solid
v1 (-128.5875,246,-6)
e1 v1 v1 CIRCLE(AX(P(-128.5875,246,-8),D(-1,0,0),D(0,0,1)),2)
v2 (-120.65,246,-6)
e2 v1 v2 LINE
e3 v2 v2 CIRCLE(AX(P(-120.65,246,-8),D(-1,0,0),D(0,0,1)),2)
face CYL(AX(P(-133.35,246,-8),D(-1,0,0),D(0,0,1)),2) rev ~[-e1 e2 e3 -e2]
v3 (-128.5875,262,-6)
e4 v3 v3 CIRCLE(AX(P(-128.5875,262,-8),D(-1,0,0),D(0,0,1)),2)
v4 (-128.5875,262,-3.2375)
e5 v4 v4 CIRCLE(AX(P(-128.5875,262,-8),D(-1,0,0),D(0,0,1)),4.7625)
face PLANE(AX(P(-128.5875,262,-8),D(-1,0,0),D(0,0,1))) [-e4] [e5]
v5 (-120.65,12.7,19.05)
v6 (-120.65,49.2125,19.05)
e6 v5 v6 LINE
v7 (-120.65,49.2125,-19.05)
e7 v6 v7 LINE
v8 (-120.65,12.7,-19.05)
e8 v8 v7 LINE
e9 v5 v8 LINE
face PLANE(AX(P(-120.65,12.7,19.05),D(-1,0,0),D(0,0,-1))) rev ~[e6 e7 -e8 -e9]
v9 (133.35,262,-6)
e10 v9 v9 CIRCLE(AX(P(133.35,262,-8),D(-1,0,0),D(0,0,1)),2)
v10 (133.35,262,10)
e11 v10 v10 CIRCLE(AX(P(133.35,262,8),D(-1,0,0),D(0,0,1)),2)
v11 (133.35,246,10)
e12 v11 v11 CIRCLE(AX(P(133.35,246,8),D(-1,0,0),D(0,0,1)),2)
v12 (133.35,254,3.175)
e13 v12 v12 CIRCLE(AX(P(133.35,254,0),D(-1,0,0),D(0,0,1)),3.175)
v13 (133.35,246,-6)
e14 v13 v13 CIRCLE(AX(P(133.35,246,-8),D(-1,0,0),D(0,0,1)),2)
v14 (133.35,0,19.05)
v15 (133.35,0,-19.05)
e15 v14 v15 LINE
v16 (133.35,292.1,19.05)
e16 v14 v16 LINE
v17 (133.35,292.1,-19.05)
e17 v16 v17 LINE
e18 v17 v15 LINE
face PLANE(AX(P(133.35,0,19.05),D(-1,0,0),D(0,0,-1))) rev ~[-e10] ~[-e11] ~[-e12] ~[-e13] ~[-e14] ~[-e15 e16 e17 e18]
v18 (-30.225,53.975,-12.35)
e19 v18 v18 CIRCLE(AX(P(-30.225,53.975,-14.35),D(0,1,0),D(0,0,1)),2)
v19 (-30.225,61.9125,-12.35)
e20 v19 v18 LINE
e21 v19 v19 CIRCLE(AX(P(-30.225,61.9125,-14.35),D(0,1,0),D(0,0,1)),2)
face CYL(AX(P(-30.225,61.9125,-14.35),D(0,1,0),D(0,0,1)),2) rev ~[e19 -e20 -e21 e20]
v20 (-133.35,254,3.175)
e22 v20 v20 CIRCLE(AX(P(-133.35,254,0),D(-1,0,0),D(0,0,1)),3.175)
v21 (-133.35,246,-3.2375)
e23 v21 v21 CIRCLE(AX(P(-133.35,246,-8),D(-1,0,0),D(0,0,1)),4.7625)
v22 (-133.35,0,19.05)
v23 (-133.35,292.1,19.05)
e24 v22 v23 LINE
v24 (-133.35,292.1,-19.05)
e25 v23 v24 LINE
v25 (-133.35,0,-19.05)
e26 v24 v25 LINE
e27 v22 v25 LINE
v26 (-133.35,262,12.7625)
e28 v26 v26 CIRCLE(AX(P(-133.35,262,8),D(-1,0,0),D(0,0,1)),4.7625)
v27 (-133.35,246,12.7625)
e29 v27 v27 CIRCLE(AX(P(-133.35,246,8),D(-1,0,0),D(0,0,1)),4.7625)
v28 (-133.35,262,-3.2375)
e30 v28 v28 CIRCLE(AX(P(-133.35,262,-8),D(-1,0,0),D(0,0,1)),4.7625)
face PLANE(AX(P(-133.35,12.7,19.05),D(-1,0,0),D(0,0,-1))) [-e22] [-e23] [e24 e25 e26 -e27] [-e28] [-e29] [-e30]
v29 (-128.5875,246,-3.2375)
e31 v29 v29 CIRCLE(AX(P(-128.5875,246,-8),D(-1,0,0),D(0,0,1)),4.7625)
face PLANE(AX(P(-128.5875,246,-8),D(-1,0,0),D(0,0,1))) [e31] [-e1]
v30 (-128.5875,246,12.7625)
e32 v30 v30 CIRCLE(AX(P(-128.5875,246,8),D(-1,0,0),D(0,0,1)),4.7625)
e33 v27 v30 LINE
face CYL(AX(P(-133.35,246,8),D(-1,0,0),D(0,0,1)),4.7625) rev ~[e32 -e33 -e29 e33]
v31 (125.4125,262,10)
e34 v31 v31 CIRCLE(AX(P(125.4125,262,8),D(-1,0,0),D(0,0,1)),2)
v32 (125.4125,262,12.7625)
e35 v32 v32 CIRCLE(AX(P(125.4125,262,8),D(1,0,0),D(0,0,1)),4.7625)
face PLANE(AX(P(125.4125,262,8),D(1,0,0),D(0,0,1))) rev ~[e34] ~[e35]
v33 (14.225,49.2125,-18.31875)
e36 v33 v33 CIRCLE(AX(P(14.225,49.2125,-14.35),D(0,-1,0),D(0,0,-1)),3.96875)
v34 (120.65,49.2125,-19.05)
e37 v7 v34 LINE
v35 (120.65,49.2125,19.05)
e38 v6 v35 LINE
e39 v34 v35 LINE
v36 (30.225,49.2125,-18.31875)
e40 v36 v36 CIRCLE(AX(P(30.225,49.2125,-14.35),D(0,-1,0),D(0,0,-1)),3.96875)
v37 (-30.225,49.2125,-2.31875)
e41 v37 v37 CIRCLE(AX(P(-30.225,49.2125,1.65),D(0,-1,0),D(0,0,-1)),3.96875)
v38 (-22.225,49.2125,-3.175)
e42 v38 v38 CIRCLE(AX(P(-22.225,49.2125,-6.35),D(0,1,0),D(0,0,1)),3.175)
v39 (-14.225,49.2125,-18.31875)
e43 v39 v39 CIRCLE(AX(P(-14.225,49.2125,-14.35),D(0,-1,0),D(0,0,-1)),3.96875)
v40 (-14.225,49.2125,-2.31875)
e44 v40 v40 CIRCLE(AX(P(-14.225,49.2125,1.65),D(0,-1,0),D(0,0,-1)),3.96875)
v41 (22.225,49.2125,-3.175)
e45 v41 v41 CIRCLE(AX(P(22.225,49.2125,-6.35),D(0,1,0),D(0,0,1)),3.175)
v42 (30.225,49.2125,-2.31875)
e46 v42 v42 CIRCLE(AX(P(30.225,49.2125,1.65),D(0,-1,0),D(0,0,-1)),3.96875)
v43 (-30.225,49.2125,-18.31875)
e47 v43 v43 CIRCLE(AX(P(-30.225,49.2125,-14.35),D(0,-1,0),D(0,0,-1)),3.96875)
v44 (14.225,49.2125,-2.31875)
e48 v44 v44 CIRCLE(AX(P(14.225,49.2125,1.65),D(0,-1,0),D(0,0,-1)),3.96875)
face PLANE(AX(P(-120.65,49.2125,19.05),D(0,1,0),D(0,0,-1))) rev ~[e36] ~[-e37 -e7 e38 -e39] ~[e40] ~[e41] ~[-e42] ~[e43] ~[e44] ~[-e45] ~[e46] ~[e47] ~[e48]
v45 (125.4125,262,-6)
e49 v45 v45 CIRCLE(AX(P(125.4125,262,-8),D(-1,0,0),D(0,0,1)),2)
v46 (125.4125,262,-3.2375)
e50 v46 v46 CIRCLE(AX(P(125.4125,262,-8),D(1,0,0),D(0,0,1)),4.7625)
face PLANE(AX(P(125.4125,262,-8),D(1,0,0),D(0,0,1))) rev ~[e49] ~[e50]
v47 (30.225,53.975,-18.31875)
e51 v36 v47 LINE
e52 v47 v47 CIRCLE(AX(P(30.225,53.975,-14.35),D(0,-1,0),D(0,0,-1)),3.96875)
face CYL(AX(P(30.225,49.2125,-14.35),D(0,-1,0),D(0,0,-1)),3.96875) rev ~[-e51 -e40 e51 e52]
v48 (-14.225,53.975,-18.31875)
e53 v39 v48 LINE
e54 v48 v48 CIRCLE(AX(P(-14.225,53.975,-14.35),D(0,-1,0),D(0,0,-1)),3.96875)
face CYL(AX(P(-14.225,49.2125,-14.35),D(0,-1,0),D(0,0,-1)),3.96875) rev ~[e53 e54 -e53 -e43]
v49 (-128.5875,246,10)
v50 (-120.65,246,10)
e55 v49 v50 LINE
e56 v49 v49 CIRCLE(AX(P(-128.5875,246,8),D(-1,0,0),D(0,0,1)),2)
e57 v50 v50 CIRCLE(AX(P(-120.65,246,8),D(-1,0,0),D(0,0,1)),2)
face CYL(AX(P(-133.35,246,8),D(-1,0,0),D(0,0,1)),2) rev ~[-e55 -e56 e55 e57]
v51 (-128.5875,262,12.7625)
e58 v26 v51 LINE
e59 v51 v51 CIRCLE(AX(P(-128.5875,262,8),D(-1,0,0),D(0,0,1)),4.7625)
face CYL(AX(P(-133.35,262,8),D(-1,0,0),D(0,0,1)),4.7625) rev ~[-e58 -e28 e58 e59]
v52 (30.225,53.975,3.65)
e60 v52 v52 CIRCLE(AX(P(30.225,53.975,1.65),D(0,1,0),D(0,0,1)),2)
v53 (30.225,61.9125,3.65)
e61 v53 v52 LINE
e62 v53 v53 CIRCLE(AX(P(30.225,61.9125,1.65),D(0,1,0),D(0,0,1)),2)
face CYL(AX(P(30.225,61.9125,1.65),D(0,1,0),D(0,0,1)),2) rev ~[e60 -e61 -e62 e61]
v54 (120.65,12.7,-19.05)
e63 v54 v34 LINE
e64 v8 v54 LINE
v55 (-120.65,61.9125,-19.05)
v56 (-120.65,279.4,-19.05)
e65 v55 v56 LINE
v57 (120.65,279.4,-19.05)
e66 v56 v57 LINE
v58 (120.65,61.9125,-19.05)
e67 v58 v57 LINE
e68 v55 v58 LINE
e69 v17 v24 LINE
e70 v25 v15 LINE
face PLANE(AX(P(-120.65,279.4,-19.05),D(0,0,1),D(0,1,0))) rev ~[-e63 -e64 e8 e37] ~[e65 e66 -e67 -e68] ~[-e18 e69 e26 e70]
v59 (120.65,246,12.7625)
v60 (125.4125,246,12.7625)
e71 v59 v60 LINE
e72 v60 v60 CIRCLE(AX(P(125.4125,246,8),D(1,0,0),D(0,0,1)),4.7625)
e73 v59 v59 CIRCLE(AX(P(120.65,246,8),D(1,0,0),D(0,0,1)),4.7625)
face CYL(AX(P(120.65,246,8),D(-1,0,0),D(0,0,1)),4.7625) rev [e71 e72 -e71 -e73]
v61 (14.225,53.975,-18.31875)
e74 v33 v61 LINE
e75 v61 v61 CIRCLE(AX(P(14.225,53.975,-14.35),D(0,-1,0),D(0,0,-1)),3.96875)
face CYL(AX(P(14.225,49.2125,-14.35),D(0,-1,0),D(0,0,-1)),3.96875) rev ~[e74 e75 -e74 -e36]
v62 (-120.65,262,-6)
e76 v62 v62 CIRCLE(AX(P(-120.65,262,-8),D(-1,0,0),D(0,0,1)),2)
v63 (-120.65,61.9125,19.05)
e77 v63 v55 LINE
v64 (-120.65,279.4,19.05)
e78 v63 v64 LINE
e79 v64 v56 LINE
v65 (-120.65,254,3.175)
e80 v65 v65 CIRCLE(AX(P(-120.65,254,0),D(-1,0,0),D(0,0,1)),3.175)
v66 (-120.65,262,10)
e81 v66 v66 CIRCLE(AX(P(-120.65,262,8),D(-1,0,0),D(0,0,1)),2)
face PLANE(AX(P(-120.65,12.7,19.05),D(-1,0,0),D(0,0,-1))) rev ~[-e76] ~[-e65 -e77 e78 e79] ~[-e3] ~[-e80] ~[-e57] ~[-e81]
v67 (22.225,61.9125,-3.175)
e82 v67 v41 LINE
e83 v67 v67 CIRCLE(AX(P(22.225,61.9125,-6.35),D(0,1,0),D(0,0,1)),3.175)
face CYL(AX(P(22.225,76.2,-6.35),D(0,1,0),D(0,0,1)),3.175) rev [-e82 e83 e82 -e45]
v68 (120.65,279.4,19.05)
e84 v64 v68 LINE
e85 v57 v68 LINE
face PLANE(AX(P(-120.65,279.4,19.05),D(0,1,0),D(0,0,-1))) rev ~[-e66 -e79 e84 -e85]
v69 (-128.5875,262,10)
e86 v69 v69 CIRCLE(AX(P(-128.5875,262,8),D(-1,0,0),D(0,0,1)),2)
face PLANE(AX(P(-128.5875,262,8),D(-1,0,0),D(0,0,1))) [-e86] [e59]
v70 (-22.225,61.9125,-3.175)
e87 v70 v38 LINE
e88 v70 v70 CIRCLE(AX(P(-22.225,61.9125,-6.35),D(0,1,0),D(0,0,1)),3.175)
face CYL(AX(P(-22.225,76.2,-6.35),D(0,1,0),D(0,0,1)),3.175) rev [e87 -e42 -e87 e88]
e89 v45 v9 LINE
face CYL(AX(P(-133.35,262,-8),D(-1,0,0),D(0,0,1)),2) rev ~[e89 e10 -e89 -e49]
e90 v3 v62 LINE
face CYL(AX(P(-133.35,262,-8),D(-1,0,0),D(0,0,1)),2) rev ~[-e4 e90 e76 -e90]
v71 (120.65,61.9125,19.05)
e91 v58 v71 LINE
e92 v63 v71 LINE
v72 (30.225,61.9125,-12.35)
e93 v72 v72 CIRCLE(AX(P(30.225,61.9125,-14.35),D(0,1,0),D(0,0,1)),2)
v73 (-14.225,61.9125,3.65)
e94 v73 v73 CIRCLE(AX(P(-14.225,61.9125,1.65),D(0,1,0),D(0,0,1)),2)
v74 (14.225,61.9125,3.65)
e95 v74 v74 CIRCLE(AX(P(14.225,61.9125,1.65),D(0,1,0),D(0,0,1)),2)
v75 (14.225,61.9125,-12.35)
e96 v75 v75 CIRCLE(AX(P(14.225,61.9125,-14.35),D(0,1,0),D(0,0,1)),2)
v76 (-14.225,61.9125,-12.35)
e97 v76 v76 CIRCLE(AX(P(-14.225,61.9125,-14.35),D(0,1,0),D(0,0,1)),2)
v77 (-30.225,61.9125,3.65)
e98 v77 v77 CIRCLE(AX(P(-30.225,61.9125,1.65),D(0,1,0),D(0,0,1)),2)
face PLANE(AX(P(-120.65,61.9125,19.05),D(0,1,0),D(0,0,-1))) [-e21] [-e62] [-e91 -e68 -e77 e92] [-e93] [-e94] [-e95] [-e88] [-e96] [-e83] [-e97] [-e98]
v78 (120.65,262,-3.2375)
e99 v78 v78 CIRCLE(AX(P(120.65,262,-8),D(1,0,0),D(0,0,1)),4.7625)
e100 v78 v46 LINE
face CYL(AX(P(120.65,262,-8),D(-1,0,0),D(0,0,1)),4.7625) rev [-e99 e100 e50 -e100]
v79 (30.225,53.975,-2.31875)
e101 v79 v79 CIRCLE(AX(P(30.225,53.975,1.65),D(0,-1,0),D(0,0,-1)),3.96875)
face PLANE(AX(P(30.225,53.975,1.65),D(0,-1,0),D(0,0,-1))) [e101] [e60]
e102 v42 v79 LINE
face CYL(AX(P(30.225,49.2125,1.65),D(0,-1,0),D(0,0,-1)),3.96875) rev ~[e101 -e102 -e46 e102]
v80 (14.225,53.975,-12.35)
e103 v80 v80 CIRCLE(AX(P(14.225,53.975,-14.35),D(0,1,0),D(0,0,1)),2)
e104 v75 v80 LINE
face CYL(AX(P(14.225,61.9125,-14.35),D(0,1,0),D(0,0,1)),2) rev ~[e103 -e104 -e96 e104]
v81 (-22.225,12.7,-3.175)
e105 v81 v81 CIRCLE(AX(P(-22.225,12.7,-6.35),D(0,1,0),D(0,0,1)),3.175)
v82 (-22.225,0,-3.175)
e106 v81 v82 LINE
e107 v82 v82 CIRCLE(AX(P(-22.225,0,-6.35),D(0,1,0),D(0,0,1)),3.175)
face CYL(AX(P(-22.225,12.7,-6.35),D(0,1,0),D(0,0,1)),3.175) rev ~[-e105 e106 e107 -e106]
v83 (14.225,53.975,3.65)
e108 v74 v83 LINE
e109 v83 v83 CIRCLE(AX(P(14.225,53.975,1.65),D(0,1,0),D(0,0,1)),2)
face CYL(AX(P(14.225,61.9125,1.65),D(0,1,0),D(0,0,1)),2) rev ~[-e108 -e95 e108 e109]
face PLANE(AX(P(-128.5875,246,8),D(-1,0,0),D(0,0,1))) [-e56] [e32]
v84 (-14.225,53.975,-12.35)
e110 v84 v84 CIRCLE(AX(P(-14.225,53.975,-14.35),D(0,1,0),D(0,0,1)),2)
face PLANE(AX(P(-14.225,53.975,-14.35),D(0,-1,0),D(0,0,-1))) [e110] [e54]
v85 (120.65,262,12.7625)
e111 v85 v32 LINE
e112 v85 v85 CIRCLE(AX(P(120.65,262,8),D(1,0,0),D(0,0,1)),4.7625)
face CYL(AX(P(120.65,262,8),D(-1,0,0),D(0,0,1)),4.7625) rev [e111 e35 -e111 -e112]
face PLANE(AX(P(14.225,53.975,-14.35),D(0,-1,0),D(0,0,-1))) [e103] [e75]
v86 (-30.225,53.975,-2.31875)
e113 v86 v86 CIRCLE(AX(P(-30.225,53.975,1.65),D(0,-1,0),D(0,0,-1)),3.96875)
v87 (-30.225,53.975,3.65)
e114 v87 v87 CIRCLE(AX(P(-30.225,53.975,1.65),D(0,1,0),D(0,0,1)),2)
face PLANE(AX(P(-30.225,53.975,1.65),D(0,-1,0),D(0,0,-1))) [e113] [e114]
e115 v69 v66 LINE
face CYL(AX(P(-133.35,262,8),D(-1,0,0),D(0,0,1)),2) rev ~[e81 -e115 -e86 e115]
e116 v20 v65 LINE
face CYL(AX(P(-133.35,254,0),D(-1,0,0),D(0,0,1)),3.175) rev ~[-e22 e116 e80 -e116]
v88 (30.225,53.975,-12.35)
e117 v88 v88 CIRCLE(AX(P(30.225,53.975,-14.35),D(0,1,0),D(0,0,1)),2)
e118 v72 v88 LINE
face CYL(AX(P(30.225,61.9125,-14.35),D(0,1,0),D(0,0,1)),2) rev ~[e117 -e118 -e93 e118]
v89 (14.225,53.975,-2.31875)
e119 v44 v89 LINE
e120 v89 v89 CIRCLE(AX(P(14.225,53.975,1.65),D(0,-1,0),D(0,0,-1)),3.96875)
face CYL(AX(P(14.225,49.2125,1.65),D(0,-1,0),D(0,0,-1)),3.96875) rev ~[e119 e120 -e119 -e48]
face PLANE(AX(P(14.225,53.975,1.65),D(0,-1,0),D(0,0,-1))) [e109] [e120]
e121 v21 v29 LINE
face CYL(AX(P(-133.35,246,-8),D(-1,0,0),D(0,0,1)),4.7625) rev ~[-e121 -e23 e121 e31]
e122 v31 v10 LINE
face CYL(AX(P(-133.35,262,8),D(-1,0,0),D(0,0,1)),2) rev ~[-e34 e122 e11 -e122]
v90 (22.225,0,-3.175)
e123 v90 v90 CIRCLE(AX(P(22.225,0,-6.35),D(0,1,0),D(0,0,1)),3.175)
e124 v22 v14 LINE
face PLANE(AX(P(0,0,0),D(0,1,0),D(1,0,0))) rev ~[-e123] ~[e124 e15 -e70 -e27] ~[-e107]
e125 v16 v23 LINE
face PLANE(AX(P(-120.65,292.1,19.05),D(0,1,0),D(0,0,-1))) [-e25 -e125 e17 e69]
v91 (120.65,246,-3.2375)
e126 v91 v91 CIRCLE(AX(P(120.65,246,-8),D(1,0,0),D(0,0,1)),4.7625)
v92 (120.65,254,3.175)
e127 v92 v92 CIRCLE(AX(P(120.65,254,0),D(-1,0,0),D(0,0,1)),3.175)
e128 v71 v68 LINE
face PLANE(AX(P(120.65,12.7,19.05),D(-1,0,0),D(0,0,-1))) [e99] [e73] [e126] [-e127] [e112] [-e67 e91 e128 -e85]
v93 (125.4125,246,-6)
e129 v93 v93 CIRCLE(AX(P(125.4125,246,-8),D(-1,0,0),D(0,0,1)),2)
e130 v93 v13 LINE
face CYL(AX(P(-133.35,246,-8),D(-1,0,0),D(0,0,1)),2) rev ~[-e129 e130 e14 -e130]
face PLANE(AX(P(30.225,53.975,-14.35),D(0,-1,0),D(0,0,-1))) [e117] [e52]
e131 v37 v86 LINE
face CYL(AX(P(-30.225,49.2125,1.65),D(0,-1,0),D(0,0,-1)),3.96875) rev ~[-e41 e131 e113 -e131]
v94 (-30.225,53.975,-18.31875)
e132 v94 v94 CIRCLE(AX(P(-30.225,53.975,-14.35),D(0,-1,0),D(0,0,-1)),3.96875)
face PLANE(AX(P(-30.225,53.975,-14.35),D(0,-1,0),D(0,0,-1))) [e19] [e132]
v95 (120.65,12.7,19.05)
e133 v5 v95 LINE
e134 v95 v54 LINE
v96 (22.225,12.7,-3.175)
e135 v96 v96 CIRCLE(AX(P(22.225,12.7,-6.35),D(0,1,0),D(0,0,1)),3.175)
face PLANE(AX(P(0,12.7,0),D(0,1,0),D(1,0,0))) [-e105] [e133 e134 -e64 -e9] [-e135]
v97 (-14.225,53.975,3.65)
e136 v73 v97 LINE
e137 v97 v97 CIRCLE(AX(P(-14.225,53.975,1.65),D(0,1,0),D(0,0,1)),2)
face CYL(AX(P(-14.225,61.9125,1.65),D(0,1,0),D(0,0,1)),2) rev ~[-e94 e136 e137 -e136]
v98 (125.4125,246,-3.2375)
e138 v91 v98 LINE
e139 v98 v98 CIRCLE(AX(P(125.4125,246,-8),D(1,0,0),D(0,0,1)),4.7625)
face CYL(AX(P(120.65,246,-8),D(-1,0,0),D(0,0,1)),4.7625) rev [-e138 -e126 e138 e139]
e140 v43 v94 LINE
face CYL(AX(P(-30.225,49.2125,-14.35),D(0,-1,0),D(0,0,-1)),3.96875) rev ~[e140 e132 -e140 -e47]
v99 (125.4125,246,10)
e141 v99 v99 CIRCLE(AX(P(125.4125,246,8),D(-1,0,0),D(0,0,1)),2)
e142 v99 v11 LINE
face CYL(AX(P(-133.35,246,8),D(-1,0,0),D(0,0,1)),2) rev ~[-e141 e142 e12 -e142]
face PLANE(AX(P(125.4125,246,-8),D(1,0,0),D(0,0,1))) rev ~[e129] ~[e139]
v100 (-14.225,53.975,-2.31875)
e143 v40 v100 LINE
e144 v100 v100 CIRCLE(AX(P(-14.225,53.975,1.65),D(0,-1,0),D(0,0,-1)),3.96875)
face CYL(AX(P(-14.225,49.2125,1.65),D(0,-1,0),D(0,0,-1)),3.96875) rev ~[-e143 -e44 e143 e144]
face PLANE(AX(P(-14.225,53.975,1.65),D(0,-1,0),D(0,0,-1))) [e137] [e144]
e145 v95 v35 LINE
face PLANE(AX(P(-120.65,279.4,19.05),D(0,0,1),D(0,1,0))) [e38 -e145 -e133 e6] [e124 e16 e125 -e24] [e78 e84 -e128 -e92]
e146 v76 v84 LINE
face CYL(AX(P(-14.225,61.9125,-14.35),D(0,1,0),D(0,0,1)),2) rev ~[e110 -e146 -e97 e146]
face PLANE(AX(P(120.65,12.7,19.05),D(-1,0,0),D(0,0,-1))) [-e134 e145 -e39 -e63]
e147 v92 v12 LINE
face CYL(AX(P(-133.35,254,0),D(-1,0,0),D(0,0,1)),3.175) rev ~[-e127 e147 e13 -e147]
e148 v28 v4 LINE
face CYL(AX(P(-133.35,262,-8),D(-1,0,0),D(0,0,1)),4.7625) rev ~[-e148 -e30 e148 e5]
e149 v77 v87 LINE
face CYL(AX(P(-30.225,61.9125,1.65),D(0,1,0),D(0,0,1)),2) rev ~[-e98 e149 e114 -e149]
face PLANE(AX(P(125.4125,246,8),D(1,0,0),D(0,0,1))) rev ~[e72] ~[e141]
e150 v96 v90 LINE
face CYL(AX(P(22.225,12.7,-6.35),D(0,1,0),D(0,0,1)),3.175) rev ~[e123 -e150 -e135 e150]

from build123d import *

# Parameters (mm, degrees)
ESQUISSE1_W             = 266.7
ESQUISSE1_H             = 38.1
BOSS_EXTRU_1_DEPTH      = 12.7
ESQUISSE2_W             = 12.7
ESQUISSE2_H             = 38.1
BOSS_EXTRU_2_DEPTH      = 279.4
ESQUISSE3_R             = 3.175
ENL_V_MAT_EXTRU_1_DEPTH = 311.176538442
ESQUISSE4_R             = 3.175
ENL_V_MAT_EXTRU_2_DEPTH = 311.176538442
BOSS_EXTRU_3_REACH      = 389.558
ESQUISSE5_W             = 38.1
ESQUISSE5_H             = 12.7
BOSS_EXTRU_4_REACH      = 389.558
ESQUISSE6_W             = 38.1
ESQUISSE6_H             = 12.7
ESQUISSE9_R             = 3.175
ENL_V_MAT_EXTRU_3_DEPTH = 396.997730423
ESQUISSE10_R            = 2
ENL_V_MAT_EXTRU_4_DEPTH = 396.997730423
ESQUISSE12_R            = 4.7625
ENL_V_MAT_EXTRU_5_DEPTH = 4.7625
ESQUISSE13_R            = 4.7625
ENL_V_MAT_EXTRU_6_DEPTH = 4.7625
ENL_V_START             = -76.2
ESQUISSE17_R            = 3.175
ENL_V_MAT_EXTRU_7_DEPTH = 76.2
ESQUISSE18_R            = 2
ENL_V_MAT_EXTRU_8_DEPTH = 25.4
ESQUISSE20_R            = 3.96875
ENL_V_MAT_EXTRU_9_DEPTH = 4.7625


with BuildPart() as part:
    # Esquisse1 → Boss.-Extru.1 (new body)
    with BuildSketch(Plane(origin=(0, 0, 0), x_dir=(1, 0, 0), z_dir=(0, 1, 0))):
        Rectangle(ESQUISSE1_W, ESQUISSE1_H)
    extrude(amount=BOSS_EXTRU_1_DEPTH)

    # Esquisse2 → Boss.-Extru.2 (add)
    with BuildSketch(Plane(origin=(0, 12.7, 0), x_dir=(1, 0, 0), z_dir=(0, 1, 0))):
        with Locations((-127, 0)):
            Rectangle(ESQUISSE2_W, ESQUISSE2_H)
        with Locations((127, 0)):
            Rectangle(ESQUISSE2_W, ESQUISSE2_H)
    extrude(amount=BOSS_EXTRU_2_DEPTH)

    # Esquisse3 → Enlèv. mat.-Extru.1 (cut, through all)
    with BuildSketch(Plane(origin=(0, 12.7, 0), x_dir=(1, 0, 0), z_dir=(0, 1, 0))):
        with Locations(Location((-22.225, 6.35, 0), (0, 0, 270))):
            Circle(ESQUISSE3_R)
    extrude(amount=-ENL_V_MAT_EXTRU_1_DEPTH, mode=Mode.SUBTRACT)

    # Esquisse4 → Enlèv. mat.-Extru.2 (cut, through all)
    with BuildSketch(Plane(origin=(0, 12.7, 0), x_dir=(1, 0, 0), z_dir=(0, 1, 0))):
        with Locations(Location((22.225, 6.35, 0), (0, 0, 270))):
            Circle(ESQUISSE4_R)
    extrude(amount=-ENL_V_MAT_EXTRU_2_DEPTH, mode=Mode.SUBTRACT)

    # Esquisse5 → Boss.-Extru.3 (add, up to next)
    with BuildSketch(Plane(origin=(-120.65, 0, 0), x_dir=(0, 0, -1), z_dir=(1, 0, 0)), mode=Mode.PRIVATE) as boss_extru_3_sk1:
        with Locations((0, 55.5625)):
            Rectangle(ESQUISSE5_W, ESQUISSE5_H)
    boss_extru_3_tool1 = extrude(boss_extru_3_sk1.sketch, amount=BOSS_EXTRU_3_REACH, mode=Mode.PRIVATE) - part.part
    add(boss_extru_3_tool1.solids().sort_by_distance((-120.65, 55.5625, 0))[0])

    # Esquisse6 → Boss.-Extru.4 (add, up to next)
    with BuildSketch(Plane(origin=(-120.65, 0, 0), x_dir=(0, 0, -1), z_dir=(1, 0, 0)), mode=Mode.PRIVATE) as boss_extru_4_sk1:
        with Locations((0, 285.75)):
            Rectangle(ESQUISSE6_W, ESQUISSE6_H)
    boss_extru_4_tool1 = extrude(boss_extru_4_sk1.sketch, amount=BOSS_EXTRU_4_REACH, mode=Mode.PRIVATE) - part.part
    add(boss_extru_4_tool1.solids().sort_by_distance((-120.65, 285.75, 0))[0])

    # Esquisse9 → Enlèv. mat.-Extru.3 (cut, through all)
    with BuildSketch(Plane.ZY.offset(133.35)):
        with Locations((0, 254)):
            Circle(ESQUISSE9_R)
    extrude(amount=-ENL_V_MAT_EXTRU_3_DEPTH, mode=Mode.SUBTRACT)

    # Esquisse10 → Enlèv. mat.-Extru.4 (cut, through all)
    with BuildSketch(Plane.ZY.offset(133.35)):
        with Locations((8, 262)):
            Circle(ESQUISSE10_R)
        with Locations((-8, 262)):
            Circle(ESQUISSE10_R)
        with Locations((-8, 246)):
            Circle(ESQUISSE10_R)
        with Locations((8, 246)):
            Circle(ESQUISSE10_R)
    extrude(amount=-ENL_V_MAT_EXTRU_4_DEPTH, mode=Mode.SUBTRACT)

    # Esquisse12 → Enlèv. mat.-Extru.5 (cut)
    with BuildSketch(Plane.ZY.offset(133.35)):
        with Locations((8, 262)):
            Circle(ESQUISSE12_R)
        with Locations((-8, 262)):
            Circle(ESQUISSE12_R)
        with Locations((-8, 246)):
            Circle(ESQUISSE12_R)
        with Locations((8, 246)):
            Circle(ESQUISSE12_R)
    extrude(amount=-ENL_V_MAT_EXTRU_5_DEPTH, mode=Mode.SUBTRACT)

    # Esquisse13 → Enlèv. mat.-Extru.6 (cut)
    with BuildSketch(Plane(origin=(120.65, 0, 0), x_dir=(0, 0, -1), z_dir=(1, 0, 0))):
        with Locations(Location((8, 262, 0), (0, 0, 180))):
            Circle(ESQUISSE13_R)
        with Locations(Location((8, 246, 0), (0, 0, 180))):
            Circle(ESQUISSE13_R)
        with Locations(Location((-8, 246, 0), (0, 0, 180))):
            Circle(ESQUISSE13_R)
        with Locations(Location((-8, 262, 0), (0, 0, 180))):
            Circle(ESQUISSE13_R)
    extrude(amount=ENL_V_MAT_EXTRU_6_DEPTH, mode=Mode.SUBTRACT)

    # Esquisse17 → Enlèv. mat.-Extru.7 (cut)
    with BuildSketch(Plane.XZ.offset(ENL_V_START)):
        with Locations(Location((22.225, -6.35, 0), (0, 0, 90))):
            Circle(ESQUISSE17_R)
        with Locations(Location((-22.225, -6.35, 0), (0, 0, 90))):
            Circle(ESQUISSE17_R)
    extrude(amount=ENL_V_MAT_EXTRU_7_DEPTH, mode=Mode.SUBTRACT)

    # Esquisse18 → Enlèv. mat.-Extru.8 (cut)
    with BuildSketch(Plane(origin=(0, 61.9125, 0), x_dir=(1, 0, 0), z_dir=(0, 1, 0))):
        with Locations(Location((14.225, -1.65, 0), (0, 0, 270))):
            Circle(ESQUISSE18_R)
        with Locations(Location((14.225, 14.35, 0), (0, 0, 270))):
            Circle(ESQUISSE18_R)
        with Locations(Location((30.225, 14.35, 0), (0, 0, 270))):
            Circle(ESQUISSE18_R)
        with Locations(Location((30.225, -1.65, 0), (0, 0, 270))):
            Circle(ESQUISSE18_R)
        with Locations(Location((-14.225, -1.65, 0), (0, 0, 270))):
            Circle(ESQUISSE18_R)
        with Locations(Location((-30.225, -1.65, 0), (0, 0, 270))):
            Circle(ESQUISSE18_R)
        with Locations(Location((-30.225, 14.35, 0), (0, 0, 270))):
            Circle(ESQUISSE18_R)
        with Locations(Location((-14.225, 14.35, 0), (0, 0, 270))):
            Circle(ESQUISSE18_R)
    extrude(amount=-ENL_V_MAT_EXTRU_8_DEPTH, mode=Mode.SUBTRACT)

    # Esquisse20 → Enlèv. mat.-Extru.9 (cut)
    with BuildSketch(Plane.XZ.offset(-49.2125)):
        with Locations(Location((30.225, -14.35, 0), (0, 0, 270))):
            Circle(ESQUISSE20_R)
        with Locations(Location((14.225, -14.35, 0), (0, 0, 270))):
            Circle(ESQUISSE20_R)
        with Locations(Location((14.225, 1.65, 0), (0, 0, 270))):
            Circle(ESQUISSE20_R)
        with Locations(Location((30.225, 1.65, 0), (0, 0, 270))):
            Circle(ESQUISSE20_R)
        with Locations(Location((-14.225, -14.35, 0), (0, 0, 270))):
            Circle(ESQUISSE20_R)
        with Locations(Location((-30.225, -14.35, 0), (0, 0, 270))):
            Circle(ESQUISSE20_R)
        with Locations(Location((-30.225, 1.65, 0), (0, 0, 270))):
            Circle(ESQUISSE20_R)
        with Locations(Location((-14.225, 1.65, 0), (0, 0, 270))):
            Circle(ESQUISSE20_R)
    extrude(amount=-ENL_V_MAT_EXTRU_9_DEPTH, mode=Mode.SUBTRACT)


solid = part.part
